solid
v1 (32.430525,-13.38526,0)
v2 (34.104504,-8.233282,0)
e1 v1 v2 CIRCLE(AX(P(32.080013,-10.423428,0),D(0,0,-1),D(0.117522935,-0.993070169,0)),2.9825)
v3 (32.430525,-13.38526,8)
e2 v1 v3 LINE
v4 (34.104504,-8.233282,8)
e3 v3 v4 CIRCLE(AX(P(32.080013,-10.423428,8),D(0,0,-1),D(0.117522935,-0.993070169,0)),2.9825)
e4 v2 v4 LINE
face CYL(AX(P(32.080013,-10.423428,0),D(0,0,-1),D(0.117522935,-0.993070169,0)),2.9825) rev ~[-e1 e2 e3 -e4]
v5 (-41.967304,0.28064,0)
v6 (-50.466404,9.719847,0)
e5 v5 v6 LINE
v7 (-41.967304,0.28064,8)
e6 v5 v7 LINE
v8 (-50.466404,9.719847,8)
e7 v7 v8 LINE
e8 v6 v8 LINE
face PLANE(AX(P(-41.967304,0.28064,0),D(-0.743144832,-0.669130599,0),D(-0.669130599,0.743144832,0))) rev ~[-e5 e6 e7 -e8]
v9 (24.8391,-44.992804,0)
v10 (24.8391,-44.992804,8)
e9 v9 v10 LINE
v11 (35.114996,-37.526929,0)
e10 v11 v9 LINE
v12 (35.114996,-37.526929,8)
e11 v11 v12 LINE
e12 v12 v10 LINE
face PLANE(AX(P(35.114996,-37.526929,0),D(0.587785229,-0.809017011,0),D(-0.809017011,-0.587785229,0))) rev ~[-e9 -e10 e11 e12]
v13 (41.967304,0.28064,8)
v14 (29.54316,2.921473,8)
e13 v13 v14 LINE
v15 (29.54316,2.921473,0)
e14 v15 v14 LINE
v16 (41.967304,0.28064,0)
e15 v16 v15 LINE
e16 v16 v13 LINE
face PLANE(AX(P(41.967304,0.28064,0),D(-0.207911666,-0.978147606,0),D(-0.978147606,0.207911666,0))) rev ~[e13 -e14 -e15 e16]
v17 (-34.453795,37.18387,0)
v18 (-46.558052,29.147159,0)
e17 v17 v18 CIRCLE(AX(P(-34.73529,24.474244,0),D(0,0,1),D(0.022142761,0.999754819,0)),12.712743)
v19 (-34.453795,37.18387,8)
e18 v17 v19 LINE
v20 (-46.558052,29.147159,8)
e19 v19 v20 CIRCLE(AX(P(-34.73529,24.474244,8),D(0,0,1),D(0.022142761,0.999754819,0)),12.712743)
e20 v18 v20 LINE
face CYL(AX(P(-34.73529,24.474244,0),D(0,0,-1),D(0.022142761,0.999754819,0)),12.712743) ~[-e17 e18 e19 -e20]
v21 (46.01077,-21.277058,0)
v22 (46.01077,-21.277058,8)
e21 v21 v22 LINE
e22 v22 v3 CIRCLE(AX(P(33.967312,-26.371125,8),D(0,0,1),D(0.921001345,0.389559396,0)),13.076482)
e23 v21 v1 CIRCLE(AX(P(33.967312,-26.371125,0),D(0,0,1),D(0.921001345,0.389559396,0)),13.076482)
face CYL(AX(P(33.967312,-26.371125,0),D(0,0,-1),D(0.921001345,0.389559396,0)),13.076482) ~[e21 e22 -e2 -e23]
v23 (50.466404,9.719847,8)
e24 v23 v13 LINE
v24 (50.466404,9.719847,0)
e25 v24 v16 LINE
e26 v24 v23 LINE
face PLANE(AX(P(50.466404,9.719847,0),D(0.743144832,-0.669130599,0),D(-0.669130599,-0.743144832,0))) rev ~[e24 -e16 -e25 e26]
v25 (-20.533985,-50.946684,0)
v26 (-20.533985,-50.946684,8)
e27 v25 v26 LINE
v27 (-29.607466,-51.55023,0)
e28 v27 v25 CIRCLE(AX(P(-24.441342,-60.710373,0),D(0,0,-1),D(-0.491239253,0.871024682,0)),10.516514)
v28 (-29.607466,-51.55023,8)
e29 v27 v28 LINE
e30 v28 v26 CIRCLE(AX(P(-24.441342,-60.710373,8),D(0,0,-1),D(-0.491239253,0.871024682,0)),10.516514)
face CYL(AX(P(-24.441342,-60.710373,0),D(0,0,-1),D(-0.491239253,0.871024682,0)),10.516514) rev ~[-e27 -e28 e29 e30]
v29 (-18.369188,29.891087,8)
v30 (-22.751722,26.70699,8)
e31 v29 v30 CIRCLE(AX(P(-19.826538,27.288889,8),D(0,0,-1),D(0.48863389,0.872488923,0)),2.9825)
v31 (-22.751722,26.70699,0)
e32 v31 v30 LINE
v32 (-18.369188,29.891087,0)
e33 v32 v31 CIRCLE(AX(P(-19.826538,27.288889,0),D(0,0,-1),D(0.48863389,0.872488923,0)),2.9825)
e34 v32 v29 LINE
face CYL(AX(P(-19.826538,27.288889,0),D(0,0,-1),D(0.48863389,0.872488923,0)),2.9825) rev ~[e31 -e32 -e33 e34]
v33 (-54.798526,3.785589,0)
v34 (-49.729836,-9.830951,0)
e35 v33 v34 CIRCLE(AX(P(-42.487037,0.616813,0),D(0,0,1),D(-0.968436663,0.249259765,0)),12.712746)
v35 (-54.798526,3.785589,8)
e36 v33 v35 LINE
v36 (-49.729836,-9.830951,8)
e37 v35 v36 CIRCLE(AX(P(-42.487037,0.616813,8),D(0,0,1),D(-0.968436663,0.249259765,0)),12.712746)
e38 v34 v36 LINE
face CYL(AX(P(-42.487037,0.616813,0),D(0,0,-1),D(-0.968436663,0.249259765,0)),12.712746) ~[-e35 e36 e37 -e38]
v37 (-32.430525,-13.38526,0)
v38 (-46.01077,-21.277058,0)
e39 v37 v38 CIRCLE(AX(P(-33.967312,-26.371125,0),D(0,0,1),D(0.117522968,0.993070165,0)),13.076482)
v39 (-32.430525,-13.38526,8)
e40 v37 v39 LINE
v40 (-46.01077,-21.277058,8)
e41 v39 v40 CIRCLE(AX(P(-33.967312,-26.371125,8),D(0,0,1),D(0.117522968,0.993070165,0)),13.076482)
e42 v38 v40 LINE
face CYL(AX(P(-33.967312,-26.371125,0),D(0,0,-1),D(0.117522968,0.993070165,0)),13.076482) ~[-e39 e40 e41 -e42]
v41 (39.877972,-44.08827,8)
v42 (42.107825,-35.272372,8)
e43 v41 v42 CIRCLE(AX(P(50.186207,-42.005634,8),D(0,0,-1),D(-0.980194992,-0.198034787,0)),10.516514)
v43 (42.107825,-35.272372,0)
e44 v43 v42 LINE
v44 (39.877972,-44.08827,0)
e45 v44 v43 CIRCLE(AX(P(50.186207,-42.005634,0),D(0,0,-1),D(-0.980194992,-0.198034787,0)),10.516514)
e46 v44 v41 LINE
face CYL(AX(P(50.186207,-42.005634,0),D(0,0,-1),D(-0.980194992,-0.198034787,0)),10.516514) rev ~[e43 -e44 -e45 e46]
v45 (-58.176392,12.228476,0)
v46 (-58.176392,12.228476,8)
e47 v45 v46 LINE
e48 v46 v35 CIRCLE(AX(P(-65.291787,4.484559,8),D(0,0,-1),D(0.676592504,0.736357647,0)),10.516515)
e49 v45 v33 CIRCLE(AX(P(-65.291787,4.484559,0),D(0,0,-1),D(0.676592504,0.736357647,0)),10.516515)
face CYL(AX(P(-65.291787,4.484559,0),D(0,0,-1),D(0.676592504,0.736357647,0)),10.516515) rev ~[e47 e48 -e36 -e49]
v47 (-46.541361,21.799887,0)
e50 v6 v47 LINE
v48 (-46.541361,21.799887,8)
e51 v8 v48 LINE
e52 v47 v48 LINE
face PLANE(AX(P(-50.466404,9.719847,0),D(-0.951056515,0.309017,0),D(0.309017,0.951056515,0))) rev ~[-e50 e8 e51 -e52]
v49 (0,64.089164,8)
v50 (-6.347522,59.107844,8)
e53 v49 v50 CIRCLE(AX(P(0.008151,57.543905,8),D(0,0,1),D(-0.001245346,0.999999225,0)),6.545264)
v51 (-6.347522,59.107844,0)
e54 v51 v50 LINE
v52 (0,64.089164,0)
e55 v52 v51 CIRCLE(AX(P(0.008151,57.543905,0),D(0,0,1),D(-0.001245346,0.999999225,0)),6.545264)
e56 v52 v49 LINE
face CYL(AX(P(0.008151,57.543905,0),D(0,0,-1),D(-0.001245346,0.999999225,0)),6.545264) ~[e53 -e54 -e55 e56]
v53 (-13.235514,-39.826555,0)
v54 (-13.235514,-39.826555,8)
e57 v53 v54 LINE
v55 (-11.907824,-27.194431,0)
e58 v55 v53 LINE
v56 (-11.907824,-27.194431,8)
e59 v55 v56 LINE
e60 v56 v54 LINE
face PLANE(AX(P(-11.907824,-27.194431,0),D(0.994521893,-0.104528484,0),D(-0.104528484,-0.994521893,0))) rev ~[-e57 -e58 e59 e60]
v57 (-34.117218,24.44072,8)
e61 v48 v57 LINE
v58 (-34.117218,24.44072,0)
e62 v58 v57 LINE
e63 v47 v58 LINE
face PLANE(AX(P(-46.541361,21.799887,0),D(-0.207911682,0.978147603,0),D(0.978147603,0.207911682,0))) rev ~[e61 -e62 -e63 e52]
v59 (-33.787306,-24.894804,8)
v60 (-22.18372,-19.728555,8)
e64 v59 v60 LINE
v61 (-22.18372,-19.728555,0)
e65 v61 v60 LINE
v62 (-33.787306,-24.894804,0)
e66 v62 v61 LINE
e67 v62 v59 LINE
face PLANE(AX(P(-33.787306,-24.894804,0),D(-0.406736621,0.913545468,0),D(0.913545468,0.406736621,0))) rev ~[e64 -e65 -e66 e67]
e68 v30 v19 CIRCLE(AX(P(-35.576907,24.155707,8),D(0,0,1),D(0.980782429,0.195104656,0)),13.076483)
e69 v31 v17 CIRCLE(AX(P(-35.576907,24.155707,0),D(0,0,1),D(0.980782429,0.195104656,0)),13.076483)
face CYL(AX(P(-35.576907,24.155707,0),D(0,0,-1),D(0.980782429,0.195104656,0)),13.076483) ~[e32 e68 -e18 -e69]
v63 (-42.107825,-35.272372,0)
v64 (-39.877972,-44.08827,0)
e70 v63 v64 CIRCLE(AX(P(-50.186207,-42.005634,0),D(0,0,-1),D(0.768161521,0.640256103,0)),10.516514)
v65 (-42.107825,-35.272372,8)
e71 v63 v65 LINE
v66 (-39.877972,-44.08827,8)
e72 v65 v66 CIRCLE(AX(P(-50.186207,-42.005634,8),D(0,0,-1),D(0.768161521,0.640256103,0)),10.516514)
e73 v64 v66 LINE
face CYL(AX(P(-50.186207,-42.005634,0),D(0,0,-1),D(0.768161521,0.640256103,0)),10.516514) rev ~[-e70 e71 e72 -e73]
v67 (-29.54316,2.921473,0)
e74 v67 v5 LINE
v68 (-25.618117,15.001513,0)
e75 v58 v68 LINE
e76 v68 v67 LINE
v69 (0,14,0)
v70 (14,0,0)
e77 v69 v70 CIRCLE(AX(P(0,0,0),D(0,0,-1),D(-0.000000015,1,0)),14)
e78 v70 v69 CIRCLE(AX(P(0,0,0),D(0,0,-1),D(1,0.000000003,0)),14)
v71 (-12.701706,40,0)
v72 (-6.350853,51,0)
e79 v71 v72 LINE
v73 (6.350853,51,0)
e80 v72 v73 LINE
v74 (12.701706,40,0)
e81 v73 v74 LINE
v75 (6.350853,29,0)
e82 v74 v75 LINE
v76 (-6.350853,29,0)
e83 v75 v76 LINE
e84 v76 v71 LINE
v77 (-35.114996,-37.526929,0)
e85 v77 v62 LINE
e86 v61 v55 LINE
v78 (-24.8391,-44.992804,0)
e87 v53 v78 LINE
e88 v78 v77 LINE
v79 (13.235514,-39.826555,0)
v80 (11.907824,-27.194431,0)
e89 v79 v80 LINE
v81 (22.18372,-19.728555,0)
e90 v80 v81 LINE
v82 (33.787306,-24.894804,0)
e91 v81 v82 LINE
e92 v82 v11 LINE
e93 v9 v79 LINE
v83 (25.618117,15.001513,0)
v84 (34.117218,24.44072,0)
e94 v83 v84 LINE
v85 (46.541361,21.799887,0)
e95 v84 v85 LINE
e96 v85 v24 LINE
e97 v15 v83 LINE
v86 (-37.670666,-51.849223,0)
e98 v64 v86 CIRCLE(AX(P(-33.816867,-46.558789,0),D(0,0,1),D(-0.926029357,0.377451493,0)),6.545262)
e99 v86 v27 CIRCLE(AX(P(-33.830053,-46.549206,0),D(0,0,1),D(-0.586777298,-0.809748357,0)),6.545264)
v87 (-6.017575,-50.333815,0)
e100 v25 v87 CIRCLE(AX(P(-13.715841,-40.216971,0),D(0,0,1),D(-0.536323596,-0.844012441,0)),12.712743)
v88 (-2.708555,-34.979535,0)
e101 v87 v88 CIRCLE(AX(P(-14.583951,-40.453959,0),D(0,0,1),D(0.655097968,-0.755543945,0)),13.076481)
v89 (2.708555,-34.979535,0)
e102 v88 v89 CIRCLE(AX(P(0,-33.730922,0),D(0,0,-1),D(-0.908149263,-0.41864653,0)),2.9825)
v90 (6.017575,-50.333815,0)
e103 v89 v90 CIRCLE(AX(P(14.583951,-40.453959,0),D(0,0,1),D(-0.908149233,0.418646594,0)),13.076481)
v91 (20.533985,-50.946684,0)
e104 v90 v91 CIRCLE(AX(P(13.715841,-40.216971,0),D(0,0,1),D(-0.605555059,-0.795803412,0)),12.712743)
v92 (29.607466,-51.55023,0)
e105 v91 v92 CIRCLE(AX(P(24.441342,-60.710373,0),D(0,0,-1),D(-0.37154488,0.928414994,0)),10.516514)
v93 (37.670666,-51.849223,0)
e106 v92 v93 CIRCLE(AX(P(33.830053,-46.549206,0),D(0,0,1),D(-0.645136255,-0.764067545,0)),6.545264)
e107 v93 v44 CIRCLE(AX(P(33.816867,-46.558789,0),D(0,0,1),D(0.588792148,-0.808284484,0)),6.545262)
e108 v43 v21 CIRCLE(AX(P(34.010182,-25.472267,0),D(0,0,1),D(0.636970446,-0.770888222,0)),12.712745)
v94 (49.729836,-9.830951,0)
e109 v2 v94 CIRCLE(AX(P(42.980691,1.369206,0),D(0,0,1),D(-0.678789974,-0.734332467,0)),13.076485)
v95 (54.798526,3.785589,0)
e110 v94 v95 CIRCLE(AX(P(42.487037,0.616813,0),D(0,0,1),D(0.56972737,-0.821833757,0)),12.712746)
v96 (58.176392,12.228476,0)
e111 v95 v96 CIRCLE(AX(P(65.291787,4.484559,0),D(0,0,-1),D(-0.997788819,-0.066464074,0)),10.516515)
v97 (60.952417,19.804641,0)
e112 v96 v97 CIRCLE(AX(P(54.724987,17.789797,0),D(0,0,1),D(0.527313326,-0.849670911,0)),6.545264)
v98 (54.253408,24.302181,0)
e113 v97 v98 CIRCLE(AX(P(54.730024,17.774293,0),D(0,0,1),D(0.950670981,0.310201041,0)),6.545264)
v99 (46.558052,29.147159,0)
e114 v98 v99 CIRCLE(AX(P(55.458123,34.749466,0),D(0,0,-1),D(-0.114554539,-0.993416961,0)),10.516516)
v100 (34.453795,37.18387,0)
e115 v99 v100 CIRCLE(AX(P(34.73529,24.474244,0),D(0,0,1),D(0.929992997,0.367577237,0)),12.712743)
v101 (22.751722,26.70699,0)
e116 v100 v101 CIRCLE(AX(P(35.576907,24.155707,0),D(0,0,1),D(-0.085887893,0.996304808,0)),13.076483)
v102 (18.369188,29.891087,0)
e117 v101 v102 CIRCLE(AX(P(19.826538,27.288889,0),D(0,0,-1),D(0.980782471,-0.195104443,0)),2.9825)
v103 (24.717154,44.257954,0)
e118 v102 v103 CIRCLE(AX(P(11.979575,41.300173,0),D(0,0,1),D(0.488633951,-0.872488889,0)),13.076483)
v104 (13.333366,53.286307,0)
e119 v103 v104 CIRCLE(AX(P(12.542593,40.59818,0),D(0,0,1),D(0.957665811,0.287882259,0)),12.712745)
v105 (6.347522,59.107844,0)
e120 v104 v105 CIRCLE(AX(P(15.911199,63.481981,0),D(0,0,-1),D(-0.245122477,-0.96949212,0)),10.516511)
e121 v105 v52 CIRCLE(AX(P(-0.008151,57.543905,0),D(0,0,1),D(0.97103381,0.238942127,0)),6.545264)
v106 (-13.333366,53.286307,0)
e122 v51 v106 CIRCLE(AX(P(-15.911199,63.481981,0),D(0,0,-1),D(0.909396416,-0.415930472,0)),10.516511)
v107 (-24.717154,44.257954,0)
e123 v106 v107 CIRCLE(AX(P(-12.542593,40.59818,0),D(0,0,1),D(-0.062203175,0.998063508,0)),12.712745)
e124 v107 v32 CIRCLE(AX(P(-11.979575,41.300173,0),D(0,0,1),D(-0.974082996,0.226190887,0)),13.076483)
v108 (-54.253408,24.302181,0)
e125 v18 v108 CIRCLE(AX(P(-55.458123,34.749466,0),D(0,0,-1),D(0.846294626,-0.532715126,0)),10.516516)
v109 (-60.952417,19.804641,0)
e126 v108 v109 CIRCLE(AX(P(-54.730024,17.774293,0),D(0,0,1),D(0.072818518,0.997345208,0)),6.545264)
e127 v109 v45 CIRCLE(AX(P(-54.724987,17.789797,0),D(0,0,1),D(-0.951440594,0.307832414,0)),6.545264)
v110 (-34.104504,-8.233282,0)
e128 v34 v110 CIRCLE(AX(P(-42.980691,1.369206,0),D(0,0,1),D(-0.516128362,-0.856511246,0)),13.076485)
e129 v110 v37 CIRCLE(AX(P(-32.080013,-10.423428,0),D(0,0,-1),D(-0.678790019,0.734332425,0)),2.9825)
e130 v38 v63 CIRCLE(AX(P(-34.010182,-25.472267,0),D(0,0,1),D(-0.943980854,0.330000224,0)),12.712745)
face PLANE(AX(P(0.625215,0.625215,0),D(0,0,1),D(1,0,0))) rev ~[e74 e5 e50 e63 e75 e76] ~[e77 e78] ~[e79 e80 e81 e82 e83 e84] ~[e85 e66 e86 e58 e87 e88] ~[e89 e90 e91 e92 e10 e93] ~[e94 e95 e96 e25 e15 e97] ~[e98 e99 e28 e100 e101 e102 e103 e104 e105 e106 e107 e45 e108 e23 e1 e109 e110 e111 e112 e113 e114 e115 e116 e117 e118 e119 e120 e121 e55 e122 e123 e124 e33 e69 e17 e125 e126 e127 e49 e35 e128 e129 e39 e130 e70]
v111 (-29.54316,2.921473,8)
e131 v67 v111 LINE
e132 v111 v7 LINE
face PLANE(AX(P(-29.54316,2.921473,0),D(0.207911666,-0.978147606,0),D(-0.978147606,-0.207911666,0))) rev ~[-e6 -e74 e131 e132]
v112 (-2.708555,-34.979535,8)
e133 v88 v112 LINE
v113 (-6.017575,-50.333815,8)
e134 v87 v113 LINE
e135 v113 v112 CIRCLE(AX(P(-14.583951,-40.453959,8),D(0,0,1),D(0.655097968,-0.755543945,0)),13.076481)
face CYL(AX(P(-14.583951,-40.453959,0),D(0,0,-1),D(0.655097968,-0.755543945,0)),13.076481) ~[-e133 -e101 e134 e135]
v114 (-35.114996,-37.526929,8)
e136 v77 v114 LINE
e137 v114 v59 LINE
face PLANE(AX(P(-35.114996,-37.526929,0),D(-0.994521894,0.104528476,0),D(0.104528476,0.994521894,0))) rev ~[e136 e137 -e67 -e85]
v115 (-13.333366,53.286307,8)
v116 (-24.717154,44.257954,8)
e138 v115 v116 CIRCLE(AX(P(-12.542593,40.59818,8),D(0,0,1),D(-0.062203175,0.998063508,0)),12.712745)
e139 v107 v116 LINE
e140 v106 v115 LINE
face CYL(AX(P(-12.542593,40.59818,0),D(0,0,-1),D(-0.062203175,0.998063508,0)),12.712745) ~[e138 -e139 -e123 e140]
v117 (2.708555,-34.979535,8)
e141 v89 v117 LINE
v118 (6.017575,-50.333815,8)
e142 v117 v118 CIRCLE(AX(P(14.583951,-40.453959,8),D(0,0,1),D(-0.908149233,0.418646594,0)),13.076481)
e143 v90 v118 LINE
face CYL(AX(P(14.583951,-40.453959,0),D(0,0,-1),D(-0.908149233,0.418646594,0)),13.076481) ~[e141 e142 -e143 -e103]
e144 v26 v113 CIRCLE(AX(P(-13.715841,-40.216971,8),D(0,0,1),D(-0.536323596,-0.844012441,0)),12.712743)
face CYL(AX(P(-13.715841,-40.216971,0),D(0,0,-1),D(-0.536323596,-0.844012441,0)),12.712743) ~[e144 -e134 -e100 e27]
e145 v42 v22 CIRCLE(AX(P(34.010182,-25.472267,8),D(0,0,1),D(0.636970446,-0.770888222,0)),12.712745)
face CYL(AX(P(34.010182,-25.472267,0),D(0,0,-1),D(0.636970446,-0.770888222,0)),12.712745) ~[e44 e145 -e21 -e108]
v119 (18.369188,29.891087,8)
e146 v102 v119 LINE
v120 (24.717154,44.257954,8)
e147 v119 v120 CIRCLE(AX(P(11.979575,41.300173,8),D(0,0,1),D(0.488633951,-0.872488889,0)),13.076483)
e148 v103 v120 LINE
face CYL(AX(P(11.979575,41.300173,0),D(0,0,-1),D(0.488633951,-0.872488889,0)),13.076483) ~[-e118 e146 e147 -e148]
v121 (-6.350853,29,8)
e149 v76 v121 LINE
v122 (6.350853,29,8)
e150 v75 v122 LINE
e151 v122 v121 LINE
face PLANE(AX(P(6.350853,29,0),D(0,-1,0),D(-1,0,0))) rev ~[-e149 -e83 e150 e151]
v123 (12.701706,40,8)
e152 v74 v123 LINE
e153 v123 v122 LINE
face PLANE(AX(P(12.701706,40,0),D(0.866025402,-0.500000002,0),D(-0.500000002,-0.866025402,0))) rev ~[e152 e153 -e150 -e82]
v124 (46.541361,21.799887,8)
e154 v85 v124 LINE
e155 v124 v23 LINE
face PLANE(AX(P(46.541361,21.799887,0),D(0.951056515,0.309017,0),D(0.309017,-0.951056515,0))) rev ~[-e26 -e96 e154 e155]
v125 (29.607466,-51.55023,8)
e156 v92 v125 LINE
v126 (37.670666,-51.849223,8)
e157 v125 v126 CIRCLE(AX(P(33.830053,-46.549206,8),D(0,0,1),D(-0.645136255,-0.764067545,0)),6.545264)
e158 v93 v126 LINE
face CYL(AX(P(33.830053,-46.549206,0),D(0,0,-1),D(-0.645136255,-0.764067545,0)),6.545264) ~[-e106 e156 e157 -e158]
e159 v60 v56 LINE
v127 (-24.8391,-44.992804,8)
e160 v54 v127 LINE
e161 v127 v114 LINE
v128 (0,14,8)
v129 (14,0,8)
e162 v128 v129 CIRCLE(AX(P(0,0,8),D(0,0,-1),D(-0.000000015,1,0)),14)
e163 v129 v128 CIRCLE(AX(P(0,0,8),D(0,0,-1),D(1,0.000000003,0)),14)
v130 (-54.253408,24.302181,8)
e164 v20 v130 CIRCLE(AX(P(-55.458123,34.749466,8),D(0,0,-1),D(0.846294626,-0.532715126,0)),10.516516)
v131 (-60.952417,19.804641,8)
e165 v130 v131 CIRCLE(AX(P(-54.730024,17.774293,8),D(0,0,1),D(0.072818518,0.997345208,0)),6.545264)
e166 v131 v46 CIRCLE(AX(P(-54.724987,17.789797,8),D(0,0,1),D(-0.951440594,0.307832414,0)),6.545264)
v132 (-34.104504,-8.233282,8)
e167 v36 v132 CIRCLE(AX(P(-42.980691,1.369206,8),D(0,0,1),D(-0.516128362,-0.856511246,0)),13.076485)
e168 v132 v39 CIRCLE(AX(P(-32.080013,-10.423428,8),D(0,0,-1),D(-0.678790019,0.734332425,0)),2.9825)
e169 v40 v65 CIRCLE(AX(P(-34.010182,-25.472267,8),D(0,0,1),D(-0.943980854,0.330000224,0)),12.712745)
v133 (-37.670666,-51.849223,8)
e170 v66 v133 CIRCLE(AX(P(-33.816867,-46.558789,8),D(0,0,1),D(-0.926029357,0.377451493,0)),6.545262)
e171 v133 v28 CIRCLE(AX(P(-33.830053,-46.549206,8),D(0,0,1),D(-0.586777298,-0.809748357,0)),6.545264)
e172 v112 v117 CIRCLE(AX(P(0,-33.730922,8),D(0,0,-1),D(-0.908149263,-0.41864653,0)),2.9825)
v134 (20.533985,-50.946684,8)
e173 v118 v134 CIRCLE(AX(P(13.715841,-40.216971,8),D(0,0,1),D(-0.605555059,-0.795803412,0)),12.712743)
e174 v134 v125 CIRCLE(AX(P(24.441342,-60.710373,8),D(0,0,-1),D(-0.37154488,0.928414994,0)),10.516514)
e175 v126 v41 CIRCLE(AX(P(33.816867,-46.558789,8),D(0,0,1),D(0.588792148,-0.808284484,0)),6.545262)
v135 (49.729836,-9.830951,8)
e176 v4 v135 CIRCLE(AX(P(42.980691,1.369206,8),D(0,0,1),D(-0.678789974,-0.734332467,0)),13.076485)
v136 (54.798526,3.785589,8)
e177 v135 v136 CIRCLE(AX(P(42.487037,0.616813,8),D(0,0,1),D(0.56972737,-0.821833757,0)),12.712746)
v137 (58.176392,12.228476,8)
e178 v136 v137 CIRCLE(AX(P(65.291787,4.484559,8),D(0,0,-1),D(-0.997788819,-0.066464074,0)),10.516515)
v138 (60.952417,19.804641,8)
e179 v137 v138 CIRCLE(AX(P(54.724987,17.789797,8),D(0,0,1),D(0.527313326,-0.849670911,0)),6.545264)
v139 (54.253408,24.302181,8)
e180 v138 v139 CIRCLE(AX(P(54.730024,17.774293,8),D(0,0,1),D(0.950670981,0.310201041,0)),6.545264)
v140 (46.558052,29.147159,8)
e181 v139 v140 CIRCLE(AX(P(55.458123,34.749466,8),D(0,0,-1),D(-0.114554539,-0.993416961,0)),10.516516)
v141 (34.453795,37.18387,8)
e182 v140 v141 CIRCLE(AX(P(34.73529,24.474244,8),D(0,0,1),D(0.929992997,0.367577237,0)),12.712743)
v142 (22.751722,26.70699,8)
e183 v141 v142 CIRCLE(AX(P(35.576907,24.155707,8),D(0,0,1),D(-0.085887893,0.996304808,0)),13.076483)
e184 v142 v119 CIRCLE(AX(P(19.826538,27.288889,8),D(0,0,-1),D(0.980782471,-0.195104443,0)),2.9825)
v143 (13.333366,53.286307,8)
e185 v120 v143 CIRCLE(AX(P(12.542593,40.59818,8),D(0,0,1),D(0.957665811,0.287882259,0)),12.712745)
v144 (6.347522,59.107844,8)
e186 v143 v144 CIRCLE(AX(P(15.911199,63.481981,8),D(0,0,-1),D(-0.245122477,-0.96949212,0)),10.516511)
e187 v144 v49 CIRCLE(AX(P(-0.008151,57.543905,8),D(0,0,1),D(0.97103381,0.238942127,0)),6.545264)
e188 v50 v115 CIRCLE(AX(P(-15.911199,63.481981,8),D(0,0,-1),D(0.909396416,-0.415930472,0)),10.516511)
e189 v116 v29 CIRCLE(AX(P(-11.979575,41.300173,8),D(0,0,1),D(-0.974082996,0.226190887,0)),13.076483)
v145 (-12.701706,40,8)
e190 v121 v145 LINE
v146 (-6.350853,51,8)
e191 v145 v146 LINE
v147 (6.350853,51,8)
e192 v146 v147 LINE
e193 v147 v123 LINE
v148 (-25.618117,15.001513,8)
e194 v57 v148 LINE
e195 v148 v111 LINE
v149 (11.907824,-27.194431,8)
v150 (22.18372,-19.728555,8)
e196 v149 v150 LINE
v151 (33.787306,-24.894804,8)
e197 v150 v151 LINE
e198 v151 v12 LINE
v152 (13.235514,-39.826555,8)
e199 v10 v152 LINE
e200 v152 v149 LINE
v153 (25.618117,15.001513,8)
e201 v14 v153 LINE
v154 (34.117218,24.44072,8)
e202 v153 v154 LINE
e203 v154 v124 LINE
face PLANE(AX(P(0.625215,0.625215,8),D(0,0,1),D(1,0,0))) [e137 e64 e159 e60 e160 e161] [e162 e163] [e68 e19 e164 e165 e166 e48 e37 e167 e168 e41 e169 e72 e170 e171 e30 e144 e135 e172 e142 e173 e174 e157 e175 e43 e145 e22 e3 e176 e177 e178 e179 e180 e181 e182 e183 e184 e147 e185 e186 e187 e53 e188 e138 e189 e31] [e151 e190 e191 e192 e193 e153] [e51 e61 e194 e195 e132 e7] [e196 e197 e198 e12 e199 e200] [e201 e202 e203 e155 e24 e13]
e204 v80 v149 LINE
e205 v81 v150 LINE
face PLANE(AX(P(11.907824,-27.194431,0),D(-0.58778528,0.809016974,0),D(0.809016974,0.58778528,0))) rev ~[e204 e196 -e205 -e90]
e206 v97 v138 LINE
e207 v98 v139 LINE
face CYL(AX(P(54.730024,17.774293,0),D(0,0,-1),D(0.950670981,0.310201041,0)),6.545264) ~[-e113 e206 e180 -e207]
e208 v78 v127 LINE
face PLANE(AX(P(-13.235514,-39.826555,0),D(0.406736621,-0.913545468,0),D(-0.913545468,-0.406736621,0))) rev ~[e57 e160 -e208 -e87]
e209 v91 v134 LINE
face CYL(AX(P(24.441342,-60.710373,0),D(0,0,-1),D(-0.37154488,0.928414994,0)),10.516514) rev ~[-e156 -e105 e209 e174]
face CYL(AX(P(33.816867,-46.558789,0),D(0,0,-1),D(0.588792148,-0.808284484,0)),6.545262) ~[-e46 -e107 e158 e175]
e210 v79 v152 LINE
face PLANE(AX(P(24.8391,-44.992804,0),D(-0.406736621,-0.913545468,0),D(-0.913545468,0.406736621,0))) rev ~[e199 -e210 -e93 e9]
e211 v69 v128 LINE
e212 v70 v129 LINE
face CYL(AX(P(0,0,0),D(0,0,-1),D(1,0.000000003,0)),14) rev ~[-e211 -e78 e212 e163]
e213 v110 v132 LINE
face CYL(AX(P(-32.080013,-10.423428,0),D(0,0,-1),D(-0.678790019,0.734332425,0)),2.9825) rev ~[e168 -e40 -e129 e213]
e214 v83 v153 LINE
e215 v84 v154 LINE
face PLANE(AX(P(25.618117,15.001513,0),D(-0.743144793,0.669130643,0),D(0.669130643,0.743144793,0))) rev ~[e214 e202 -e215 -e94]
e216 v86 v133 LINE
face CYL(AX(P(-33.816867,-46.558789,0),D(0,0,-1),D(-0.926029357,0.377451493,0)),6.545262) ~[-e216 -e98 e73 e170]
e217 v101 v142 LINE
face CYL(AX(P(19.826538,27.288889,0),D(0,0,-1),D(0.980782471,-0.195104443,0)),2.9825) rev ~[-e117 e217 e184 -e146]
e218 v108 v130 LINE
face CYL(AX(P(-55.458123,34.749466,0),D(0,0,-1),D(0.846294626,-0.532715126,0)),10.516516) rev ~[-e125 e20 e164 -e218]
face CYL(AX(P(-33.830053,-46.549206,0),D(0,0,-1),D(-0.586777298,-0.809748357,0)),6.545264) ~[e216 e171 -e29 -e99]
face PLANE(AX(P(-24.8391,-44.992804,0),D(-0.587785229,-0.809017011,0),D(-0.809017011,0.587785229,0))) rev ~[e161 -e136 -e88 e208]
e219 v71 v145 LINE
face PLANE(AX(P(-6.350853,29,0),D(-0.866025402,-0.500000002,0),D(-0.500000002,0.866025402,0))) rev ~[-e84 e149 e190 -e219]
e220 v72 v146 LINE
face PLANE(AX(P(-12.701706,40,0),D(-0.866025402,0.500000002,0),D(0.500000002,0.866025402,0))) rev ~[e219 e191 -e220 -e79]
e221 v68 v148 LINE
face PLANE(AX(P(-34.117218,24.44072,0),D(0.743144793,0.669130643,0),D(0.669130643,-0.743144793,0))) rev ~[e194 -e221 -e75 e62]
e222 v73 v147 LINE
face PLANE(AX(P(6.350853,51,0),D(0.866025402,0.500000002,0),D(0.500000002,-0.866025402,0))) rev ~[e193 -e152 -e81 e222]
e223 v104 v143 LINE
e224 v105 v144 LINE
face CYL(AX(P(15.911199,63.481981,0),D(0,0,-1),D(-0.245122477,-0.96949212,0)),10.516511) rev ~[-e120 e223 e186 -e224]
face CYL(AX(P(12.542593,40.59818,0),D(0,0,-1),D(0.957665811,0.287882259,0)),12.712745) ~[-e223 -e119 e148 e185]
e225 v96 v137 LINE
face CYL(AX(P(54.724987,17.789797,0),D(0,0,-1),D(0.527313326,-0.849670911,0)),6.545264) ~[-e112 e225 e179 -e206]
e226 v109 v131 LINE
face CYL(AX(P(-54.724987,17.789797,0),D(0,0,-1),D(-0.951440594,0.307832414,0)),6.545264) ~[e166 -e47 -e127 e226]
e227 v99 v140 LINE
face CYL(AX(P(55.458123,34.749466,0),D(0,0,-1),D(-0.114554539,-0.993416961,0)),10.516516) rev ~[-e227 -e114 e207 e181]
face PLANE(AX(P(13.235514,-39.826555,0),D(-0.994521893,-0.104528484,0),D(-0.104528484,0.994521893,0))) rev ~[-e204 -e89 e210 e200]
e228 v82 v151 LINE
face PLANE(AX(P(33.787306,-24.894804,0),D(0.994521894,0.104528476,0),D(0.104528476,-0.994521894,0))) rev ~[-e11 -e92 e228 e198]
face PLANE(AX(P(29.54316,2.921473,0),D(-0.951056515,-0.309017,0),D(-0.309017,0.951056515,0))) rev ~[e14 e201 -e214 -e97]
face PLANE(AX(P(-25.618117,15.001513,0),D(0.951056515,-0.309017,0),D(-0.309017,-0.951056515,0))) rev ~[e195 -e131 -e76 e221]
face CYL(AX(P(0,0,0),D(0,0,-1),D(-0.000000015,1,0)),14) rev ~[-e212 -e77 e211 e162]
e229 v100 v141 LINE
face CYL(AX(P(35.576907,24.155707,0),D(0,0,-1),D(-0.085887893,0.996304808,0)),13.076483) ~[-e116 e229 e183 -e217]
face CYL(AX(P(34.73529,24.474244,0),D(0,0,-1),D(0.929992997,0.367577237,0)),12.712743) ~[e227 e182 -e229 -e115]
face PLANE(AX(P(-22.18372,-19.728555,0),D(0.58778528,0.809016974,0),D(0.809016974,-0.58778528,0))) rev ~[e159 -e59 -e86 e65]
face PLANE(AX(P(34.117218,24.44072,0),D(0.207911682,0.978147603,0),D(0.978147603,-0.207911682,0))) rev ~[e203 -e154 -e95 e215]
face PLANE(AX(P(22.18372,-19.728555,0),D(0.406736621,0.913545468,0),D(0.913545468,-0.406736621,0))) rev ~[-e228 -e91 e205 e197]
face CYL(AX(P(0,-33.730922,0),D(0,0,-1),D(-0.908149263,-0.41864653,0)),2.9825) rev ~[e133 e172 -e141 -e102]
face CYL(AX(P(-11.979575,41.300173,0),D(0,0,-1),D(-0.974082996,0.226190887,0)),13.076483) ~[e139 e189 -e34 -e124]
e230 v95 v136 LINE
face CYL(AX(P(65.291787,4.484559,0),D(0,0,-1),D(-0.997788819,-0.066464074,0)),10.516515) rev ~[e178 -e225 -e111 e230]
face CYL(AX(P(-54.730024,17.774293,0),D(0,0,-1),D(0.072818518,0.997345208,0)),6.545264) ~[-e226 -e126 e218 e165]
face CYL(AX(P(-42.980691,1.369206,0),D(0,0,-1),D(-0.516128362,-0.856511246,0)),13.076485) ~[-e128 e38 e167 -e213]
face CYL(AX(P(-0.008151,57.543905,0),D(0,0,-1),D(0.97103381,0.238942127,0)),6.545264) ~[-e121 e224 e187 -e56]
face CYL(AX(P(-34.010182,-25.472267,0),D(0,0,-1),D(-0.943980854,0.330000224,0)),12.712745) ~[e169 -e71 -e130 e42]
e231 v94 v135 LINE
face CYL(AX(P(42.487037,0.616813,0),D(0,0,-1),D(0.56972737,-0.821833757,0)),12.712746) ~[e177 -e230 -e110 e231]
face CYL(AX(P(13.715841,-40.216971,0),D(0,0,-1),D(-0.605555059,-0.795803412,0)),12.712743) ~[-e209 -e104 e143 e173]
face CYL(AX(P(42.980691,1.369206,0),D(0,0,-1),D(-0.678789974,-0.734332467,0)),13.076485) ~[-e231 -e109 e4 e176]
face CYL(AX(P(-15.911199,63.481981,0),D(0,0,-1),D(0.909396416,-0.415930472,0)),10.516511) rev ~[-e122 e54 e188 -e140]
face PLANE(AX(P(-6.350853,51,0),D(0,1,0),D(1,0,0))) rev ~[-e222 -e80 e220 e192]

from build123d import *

# Parameters (mm, degrees)
F1_DEPTH = 8


with BuildPart() as f1:
    # F0 (on Top) → F1 (new body)
    with BuildSketch(Plane.XY):
        with BuildLine():
            ThreePointArc((0, 14), (-9.899495, -9.899495), (14, 0))
            ThreePointArc((14, 0), (9.899495, 9.899495), (0, 14))
        make_face()
        with BuildLine():
            ThreePointArc((6.347522, 59.107844), (4.032635, 62.692937), (0, 64.089164))
            ThreePointArc((0, 64.089164), (-4.032635, 62.692937), (-6.347522, 59.107844))
            ThreePointArc((-6.347522, 59.107844), (-9.178693, 55.402974), (-13.333366, 53.286307))
            ThreePointArc((-13.333366, 53.286307), (-20.442135, 50.558658), (-24.717154, 44.257954))
            ThreePointArc((-24.717154, 44.257954), (-23.940515, 36.01526), (-18.369188, 29.891087))
            ThreePointArc((-18.369188, 29.891087), (-18.073469, 24.875996), (-22.751722, 26.70699))
            ThreePointArc((-22.751722, 26.70699), (-26.854522, 33.89811), (-34.453795, 37.18387))
            ThreePointArc((-34.453795, 37.18387), (-41.767174, 35.06511), (-46.558052, 29.147159))
            ThreePointArc((-46.558052, 29.147159), (-49.854987, 25.849917), (-54.253408, 24.302181))
            ThreePointArc((-54.253408, 24.302181), (-58.378374, 23.208447), (-60.952417, 19.804641))
            ThreePointArc((-60.952417, 19.804641), (-60.870679, 15.537919), (-58.176392, 12.228476))
            ThreePointArc((-58.176392, 12.228476), (-55.527732, 8.391005), (-54.798526, 3.785589))
            ThreePointArc((-54.798526, 3.785589), (-54.401108, -3.818141), (-49.729836, -9.830951))
            ThreePointArc((-49.729836, -9.830951), (-41.650573, -11.639455), (-34.104504, -8.233282))
            ThreePointArc((-34.104504, -8.233282), (-29.243487, -9.501785), (-32.430525, -13.38526))
            ThreePointArc((-32.430525, -13.38526), (-40.537522, -15.065076), (-46.01077, -21.277058))
            ThreePointArc((-46.01077, -21.277058), (-46.255668, -28.887228), (-42.107825, -35.272372))
            ThreePointArc((-42.107825, -35.272372), (-39.99077, -39.426847), (-39.877972, -44.08827))
            ThreePointArc((-39.877972, -44.08827), (-40.112455, -48.349328), (-37.670666, -51.849223))
            ThreePointArc((-37.670666, -51.849223), (-33.587513, -53.089975), (-29.607466, -51.55023))
            ThreePointArc((-29.607466, -51.55023), (-25.139332, -50.217048), (-20.533985, -50.946684))
            ThreePointArc((-20.533985, -50.946684), (-13.179599, -52.918399), (-6.017575, -50.333815))
            ThreePointArc((-6.017575, -50.333815), (-1.800955, -43.208839), (-2.708555, -34.979535))
            ThreePointArc((-2.708555, -34.979535), (0, -30.748422), (2.708555, -34.979535))
            ThreePointArc((2.708555, -34.979535), (1.800955, -43.208839), (6.017575, -50.333815))
            ThreePointArc((6.017575, -50.333815), (13.179599, -52.918399), (20.533985, -50.946684))
            ThreePointArc((20.533985, -50.946684), (25.139332, -50.217048), (29.607466, -51.55023))
            ThreePointArc((29.607466, -51.55023), (33.587513, -53.089975), (37.670666, -51.849223))
            ThreePointArc((37.670666, -51.849223), (40.112455, -48.349328), (39.877972, -44.08827))
            ThreePointArc((39.877972, -44.08827), (39.99077, -39.426847), (42.107825, -35.272372))
            ThreePointArc((42.107825, -35.272372), (46.255668, -28.887228), (46.01077, -21.277058))
            ThreePointArc((46.01077, -21.277058), (40.537522, -15.065076), (32.430525, -13.38526))
            ThreePointArc((32.430525, -13.38526), (29.243487, -9.501785), (34.104504, -8.233282))
            ThreePointArc((34.104504, -8.233282), (41.650573, -11.639455), (49.729836, -9.830951))
            ThreePointArc((49.729836, -9.830951), (54.401108, -3.818141), (54.798526, 3.785589))
            ThreePointArc((54.798526, 3.785589), (55.527732, 8.391005), (58.176392, 12.228476))
            ThreePointArc((58.176392, 12.228476), (60.870679, 15.537919), (60.952417, 19.804641))
            ThreePointArc((60.952417, 19.804641), (58.378374, 23.208447), (54.253408, 24.302181))
            ThreePointArc((54.253408, 24.302181), (49.854987, 25.849917), (46.558052, 29.147159))
            ThreePointArc((46.558052, 29.147159), (41.767174, 35.06511), (34.453795, 37.18387))
            ThreePointArc((34.453795, 37.18387), (26.854522, 33.89811), (22.751722, 26.70699))
            ThreePointArc((22.751722, 26.70699), (18.073469, 24.875996), (18.369188, 29.891087))
            ThreePointArc((18.369188, 29.891087), (23.940515, 36.01526), (24.717154, 44.257954))
            ThreePointArc((24.717154, 44.257954), (20.442135, 50.558658), (13.333366, 53.286307))
            ThreePointArc((13.333366, 53.286307), (9.178693, 55.402974), (6.347522, 59.107844))
        make_face()
        Polygon((-11.907824, -27.194431), (-13.235514, -39.826555), (-24.8391, -44.992804), (-35.114996, -37.526929), (-33.787306, -24.894804), (-22.18372, -19.728555), align=None, mode=Mode.SUBTRACT)
        with BuildLine():
            ThreePointArc((0, 14), (9.899495, 9.899495), (14, 0))
            ThreePointArc((14, 0), (-9.899495, -9.899495), (0, 14))
        make_face(mode=Mode.SUBTRACT)
        Polygon((22.18372, -19.728555), (33.787306, -24.894804), (35.114996, -37.526929), (24.8391, -44.992804), (13.235514, -39.826555), (11.907824, -27.194431), align=None, mode=Mode.SUBTRACT)
        Polygon((-29.54316, 2.921473), (-41.967304, 0.28064), (-50.466404, 9.719847), (-46.541361, 21.799887), (-34.117218, 24.44072), (-25.618117, 15.001513), align=None, mode=Mode.SUBTRACT)
        Polygon((6.350853, 29), (0, 29), (-6.350853, 29), (-12.701706, 40), (-6.350853, 51), (0, 51), (6.350853, 51), (12.701706, 40), align=None, mode=Mode.SUBTRACT)
        Polygon((25.618117, 15.001513), (34.117218, 24.44072), (46.541361, 21.799887), (50.466404, 9.719847), (41.967304, 0.28064), (29.54316, 2.921473), align=None, mode=Mode.SUBTRACT)
    extrude(amount=F1_DEPTH)


solid = f1.part
